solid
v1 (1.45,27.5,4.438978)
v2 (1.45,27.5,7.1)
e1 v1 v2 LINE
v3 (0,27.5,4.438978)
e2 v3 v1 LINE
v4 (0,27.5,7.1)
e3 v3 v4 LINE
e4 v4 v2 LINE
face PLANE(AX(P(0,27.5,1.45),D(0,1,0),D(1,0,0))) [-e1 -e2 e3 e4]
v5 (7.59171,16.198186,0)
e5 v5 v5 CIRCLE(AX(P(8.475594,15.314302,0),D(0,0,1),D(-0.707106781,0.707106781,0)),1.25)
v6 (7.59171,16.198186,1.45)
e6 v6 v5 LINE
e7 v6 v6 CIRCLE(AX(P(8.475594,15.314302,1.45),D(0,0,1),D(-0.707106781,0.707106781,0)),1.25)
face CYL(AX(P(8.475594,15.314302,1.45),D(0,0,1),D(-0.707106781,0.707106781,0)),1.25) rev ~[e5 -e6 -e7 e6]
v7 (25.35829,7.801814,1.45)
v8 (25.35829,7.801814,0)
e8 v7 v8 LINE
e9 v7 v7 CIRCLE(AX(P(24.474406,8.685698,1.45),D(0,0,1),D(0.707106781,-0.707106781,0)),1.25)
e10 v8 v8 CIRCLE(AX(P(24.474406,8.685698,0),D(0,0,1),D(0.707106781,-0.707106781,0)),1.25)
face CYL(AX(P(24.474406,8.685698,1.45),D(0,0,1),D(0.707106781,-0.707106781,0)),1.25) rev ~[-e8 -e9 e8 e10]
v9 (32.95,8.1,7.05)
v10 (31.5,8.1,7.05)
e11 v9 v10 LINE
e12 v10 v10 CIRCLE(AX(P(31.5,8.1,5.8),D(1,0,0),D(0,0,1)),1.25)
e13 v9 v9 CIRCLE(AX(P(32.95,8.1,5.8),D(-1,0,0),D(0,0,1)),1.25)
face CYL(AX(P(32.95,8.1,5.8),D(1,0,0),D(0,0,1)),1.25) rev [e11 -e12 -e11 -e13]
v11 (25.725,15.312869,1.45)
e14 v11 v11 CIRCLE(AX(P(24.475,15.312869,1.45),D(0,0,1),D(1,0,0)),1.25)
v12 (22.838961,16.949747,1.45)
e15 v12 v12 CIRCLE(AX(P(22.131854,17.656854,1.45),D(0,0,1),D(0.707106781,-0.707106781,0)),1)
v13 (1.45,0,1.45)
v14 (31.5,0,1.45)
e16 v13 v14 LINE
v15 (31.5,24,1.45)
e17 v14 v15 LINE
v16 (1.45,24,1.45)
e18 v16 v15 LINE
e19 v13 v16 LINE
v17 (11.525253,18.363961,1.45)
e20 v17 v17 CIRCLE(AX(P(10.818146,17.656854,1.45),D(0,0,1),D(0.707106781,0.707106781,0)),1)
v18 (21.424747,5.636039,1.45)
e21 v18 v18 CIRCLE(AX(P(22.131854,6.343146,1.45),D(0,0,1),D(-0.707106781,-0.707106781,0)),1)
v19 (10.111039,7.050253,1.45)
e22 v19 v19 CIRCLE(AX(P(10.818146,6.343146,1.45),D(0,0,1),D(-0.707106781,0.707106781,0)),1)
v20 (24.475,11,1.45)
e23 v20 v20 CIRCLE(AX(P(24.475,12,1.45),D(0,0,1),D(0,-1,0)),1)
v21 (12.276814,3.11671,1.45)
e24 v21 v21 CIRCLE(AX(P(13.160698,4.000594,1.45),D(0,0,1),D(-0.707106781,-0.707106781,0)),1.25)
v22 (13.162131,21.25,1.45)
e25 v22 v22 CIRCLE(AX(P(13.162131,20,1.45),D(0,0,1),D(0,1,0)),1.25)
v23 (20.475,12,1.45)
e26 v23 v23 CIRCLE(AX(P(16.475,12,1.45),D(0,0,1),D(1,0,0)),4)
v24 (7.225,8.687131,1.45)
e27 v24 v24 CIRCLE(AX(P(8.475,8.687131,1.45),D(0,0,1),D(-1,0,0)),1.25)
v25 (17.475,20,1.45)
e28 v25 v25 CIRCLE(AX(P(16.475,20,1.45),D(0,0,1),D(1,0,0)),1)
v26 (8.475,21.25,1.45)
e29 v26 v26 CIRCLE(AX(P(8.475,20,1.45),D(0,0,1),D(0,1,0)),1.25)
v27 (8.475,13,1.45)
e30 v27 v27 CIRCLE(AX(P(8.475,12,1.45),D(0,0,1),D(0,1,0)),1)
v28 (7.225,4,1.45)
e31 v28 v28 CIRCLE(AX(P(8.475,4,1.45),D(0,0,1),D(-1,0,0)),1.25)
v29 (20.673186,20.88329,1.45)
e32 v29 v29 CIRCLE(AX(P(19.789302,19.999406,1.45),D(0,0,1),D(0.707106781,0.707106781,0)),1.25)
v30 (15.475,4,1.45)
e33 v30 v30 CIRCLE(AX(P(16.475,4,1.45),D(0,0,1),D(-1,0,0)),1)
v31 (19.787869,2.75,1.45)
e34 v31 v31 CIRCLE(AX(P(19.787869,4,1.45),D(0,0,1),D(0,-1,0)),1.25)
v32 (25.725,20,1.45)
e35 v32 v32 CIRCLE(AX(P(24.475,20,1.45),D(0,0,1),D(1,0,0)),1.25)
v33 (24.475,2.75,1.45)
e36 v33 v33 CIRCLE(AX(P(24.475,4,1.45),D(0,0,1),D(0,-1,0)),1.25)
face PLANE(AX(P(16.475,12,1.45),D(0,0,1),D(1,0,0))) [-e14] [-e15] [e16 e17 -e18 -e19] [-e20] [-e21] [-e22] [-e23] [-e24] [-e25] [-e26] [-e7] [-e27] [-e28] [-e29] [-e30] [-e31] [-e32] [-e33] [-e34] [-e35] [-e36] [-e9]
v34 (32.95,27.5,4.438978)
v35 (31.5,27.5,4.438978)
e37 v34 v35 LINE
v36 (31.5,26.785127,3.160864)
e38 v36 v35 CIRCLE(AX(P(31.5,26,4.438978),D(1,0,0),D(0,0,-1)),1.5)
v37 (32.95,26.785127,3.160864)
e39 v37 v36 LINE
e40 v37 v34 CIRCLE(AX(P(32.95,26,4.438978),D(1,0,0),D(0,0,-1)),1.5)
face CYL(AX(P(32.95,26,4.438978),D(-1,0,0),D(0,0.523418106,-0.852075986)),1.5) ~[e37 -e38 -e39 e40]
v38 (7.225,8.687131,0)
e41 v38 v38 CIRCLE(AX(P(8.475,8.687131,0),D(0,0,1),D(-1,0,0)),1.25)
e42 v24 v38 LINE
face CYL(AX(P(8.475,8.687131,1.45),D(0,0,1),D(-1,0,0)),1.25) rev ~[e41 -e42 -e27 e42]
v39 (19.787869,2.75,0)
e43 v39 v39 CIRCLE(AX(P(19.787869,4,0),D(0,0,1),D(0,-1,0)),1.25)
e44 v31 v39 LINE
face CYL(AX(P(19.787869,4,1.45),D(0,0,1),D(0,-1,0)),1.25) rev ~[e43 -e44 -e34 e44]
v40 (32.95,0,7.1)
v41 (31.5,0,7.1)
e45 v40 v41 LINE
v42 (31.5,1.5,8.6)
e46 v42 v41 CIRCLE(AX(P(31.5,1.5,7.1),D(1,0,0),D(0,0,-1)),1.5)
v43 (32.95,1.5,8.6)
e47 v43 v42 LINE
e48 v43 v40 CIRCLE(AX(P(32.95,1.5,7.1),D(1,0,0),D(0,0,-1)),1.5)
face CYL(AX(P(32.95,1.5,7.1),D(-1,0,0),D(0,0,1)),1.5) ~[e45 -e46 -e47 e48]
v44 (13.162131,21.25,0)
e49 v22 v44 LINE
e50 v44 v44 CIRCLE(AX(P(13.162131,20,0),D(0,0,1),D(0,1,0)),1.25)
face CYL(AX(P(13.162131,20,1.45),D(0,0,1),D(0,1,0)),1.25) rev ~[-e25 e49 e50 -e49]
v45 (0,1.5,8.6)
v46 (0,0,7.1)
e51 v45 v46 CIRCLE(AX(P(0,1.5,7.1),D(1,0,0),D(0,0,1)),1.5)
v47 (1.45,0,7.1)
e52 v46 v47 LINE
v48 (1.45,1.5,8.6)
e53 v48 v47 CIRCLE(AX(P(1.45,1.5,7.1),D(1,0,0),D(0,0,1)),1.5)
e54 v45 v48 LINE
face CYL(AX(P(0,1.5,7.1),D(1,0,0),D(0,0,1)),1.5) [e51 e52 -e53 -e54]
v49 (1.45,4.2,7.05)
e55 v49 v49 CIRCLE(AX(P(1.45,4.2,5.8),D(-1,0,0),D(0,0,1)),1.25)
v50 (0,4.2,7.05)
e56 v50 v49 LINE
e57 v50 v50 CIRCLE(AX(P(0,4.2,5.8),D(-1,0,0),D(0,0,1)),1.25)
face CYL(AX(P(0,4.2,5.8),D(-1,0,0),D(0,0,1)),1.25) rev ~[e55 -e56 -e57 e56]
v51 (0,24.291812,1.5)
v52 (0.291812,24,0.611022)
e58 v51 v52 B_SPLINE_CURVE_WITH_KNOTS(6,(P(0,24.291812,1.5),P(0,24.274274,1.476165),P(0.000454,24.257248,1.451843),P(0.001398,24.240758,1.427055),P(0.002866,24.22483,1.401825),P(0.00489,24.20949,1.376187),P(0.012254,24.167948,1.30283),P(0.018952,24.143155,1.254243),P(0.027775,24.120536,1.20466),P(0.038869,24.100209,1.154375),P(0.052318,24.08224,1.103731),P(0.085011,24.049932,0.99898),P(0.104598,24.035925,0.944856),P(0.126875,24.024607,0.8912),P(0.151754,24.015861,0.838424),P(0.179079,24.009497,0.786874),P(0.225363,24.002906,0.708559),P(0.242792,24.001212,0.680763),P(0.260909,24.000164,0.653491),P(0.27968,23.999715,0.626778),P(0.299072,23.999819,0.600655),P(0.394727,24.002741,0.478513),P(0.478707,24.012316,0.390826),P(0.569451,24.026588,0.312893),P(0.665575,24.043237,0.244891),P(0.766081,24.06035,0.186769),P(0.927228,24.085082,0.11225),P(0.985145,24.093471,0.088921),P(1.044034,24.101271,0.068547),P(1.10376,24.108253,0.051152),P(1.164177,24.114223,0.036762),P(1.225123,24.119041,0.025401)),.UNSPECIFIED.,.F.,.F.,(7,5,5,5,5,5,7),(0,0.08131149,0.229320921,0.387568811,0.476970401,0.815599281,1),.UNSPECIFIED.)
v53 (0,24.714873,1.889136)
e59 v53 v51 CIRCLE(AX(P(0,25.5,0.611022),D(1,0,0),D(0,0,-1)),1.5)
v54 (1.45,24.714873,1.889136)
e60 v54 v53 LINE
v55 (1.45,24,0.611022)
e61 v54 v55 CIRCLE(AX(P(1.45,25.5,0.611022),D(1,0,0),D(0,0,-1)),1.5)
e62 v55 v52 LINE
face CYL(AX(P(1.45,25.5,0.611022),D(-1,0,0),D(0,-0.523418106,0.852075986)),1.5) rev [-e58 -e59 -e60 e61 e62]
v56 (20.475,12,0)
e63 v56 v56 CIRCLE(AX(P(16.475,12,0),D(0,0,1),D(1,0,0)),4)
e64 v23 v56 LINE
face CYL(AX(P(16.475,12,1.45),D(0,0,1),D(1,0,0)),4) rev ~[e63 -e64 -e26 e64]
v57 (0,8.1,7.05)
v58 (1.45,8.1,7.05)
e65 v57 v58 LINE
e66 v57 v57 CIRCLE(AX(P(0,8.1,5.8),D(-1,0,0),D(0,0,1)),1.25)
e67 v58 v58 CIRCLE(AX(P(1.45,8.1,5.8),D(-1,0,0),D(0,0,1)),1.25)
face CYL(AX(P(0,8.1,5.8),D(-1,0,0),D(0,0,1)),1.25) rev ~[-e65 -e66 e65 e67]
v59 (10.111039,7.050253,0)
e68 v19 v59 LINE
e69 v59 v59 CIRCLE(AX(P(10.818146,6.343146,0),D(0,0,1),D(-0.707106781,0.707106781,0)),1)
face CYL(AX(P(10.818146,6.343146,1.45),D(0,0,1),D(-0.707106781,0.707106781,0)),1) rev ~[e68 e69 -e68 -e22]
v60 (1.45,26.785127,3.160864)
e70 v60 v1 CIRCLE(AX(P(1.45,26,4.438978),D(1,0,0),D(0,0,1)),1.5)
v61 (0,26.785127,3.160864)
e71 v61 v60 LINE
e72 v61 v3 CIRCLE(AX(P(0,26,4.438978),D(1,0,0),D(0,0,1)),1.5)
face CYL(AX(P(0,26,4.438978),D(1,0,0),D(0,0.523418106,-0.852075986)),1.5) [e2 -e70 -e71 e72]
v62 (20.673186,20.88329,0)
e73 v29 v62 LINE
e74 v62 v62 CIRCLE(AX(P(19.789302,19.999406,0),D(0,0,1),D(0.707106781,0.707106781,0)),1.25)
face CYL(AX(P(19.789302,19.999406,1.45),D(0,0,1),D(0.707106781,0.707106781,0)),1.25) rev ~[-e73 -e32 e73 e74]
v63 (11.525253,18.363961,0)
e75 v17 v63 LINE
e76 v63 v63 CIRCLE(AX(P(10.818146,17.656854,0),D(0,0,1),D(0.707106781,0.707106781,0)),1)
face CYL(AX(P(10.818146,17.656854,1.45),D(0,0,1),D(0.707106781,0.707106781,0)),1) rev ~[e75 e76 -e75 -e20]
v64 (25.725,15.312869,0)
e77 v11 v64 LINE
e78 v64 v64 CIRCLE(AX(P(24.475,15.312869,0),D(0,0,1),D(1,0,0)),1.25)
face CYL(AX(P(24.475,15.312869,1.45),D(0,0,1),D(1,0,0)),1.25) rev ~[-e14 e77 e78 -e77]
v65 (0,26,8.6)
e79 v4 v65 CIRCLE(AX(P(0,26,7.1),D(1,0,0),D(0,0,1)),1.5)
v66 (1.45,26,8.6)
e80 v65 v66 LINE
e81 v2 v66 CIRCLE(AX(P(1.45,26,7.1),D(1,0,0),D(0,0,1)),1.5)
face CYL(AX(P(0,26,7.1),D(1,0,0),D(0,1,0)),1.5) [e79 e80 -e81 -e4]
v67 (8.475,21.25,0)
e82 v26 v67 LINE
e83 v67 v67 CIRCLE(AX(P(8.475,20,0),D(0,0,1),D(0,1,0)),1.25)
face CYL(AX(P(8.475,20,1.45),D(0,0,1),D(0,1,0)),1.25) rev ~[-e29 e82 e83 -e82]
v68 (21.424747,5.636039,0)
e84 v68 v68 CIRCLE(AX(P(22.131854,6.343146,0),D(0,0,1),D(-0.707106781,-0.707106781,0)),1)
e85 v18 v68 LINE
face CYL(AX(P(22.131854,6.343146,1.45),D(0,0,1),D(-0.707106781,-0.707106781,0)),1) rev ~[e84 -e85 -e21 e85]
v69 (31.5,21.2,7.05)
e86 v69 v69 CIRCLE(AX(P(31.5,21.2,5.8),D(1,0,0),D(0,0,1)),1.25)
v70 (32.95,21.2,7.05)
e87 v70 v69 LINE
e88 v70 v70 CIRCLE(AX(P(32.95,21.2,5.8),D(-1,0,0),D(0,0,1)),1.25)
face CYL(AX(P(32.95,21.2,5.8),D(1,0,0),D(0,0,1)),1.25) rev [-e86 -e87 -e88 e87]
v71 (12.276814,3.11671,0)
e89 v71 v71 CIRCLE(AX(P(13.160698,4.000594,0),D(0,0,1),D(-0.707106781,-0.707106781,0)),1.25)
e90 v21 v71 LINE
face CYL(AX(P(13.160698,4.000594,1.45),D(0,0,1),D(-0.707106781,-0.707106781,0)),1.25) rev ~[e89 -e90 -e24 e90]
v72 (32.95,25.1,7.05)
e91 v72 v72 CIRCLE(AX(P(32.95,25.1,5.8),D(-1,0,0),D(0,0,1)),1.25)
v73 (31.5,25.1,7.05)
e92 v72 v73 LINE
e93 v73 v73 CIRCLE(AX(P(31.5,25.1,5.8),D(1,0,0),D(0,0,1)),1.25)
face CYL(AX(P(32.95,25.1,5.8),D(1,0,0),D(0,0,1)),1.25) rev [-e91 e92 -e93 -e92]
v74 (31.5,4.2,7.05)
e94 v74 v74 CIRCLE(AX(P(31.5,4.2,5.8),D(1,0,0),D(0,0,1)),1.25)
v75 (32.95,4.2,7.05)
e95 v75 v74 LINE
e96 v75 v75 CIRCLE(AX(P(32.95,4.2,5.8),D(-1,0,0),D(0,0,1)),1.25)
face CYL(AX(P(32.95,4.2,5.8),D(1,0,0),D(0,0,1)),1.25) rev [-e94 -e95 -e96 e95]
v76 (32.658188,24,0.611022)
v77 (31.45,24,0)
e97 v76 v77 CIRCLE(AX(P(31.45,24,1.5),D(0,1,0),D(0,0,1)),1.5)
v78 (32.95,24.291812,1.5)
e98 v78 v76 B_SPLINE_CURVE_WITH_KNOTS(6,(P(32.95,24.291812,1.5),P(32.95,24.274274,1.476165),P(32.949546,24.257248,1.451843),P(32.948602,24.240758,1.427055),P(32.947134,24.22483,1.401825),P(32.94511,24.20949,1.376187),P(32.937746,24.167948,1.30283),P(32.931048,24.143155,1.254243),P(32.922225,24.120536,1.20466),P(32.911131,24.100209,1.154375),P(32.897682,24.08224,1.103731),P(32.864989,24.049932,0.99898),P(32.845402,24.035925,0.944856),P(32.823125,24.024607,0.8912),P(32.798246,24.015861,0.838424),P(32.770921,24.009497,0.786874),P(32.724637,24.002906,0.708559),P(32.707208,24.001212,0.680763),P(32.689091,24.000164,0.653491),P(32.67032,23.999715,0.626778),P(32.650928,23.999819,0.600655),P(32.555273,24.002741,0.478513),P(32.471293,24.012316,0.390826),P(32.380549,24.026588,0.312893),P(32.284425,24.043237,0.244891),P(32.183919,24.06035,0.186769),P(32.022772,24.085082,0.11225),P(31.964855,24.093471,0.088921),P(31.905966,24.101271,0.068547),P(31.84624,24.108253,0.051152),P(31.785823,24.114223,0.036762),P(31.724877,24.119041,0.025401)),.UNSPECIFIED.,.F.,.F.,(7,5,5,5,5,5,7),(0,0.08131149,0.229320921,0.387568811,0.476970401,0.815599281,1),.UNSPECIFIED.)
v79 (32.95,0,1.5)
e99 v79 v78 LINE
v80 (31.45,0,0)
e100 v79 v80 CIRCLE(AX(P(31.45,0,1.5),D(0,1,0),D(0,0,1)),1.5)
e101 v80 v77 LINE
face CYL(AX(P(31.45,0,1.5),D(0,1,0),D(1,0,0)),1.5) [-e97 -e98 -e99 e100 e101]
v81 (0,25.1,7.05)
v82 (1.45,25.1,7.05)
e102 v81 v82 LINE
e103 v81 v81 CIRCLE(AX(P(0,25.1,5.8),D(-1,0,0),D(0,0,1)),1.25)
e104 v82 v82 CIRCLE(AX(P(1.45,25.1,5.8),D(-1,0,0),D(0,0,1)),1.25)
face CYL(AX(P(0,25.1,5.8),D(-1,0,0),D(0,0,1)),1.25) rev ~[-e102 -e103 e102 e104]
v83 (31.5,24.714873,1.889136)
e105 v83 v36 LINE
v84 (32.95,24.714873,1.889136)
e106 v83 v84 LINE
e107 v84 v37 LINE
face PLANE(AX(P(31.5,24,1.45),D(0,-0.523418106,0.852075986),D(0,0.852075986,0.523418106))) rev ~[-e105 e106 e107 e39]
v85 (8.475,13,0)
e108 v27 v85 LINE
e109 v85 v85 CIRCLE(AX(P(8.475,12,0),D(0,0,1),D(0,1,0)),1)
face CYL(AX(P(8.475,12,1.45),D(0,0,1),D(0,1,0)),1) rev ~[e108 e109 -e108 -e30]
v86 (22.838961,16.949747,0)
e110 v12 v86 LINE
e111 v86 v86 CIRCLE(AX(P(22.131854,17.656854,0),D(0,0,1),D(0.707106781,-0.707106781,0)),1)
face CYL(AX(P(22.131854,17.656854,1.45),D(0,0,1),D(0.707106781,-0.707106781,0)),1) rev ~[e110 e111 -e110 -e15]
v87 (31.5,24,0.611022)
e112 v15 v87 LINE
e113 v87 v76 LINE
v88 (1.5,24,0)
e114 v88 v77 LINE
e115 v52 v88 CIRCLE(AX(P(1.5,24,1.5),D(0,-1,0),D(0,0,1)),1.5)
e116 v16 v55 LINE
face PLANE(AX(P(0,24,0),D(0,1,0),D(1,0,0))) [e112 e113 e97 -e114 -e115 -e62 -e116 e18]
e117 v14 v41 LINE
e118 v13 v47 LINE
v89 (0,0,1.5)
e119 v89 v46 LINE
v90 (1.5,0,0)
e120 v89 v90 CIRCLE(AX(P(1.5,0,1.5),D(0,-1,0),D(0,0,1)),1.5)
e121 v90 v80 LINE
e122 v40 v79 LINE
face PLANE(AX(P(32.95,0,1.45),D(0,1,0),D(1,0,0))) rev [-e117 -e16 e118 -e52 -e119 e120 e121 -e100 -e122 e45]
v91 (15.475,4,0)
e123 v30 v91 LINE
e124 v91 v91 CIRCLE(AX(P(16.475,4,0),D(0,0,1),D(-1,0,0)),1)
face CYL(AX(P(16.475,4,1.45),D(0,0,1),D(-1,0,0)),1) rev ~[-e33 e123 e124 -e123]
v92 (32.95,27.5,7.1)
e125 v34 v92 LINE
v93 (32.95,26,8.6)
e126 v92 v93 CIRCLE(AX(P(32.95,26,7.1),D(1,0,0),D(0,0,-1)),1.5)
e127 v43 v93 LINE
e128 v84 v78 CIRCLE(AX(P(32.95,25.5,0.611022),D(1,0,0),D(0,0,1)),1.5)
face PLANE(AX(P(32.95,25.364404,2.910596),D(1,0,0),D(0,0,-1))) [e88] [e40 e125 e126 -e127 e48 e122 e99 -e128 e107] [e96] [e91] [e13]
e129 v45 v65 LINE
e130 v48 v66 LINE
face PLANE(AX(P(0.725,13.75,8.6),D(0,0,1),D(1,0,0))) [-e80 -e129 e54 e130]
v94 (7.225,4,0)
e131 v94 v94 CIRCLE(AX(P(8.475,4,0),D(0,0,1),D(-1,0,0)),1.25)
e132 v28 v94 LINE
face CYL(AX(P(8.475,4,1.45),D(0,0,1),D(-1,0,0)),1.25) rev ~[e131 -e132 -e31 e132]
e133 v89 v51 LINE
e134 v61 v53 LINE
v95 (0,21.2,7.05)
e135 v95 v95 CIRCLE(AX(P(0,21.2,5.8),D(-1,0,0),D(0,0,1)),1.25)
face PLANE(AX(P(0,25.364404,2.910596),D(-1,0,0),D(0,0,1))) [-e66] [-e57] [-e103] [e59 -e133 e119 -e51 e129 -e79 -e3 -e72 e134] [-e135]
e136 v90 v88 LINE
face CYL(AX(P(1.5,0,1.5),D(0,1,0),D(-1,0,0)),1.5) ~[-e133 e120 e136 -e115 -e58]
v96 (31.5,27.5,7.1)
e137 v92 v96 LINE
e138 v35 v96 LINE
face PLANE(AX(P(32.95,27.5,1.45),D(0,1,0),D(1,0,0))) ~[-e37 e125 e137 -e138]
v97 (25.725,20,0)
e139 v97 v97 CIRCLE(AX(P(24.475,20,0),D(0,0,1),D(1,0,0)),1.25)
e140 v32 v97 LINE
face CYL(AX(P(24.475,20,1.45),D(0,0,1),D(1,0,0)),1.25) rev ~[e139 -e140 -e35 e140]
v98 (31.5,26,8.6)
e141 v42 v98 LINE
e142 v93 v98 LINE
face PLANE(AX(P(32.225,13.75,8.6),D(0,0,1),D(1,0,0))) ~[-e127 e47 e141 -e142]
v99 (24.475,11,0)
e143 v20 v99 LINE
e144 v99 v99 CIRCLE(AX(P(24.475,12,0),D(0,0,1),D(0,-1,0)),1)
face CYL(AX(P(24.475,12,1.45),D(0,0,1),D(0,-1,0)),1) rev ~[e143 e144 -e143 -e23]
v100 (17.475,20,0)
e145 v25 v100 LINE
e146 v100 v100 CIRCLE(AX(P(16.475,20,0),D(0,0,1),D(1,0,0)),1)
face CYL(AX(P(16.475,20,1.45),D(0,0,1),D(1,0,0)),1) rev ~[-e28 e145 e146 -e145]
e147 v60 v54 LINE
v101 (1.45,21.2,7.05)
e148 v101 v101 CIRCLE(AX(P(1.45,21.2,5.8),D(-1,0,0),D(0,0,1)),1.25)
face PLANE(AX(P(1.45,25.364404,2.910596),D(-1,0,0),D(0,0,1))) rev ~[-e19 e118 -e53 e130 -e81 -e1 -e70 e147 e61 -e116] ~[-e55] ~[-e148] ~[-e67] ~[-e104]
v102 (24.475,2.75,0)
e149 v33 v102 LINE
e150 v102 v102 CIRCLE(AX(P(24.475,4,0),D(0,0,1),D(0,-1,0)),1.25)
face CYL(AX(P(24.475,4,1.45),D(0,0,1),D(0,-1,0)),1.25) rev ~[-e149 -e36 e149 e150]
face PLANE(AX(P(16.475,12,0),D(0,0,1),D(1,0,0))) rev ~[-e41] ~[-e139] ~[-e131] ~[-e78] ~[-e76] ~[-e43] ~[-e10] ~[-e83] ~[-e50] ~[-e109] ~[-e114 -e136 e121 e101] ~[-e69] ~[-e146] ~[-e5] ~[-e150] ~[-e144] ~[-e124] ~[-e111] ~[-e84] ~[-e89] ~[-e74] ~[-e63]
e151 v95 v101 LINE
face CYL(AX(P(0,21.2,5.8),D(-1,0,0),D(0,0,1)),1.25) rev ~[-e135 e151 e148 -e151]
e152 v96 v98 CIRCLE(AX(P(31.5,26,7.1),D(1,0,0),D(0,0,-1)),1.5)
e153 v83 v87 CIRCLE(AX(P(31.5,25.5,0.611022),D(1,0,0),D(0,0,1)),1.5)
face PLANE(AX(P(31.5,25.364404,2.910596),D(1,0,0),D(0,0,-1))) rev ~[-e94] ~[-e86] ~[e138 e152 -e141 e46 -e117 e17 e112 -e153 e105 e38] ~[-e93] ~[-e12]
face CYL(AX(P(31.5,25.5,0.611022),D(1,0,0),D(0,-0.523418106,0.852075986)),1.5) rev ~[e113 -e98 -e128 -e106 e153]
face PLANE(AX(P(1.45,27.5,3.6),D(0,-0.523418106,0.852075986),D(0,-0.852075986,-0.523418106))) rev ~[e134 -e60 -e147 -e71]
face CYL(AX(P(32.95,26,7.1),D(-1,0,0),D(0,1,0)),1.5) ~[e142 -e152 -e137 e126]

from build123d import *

# Parameters (mm, degrees)
SKETCH1_W           = 32.95
SKETCH1_H           = 24
BOSS_EXTRUDE1_DEPTH = 1.45
SKETCH3_R           = 4
CUT_EXTRUDE1_DEPTH  = 41.789765873
SKETCH4_R           = 1
CUT_EXTRUDE2_DEPTH  = 41.789765873
CIRPATTERN1_COUNT   = 8
SKETCH6_R           = 1.25
CUT_EXTRUDE3_DEPTH  = 1.45
SKETCH7_R           = 1.25
CUT_EXTRUDE4_DEPTH  = 1.45
CIRPATTERN2_COUNT   = 4
CIRPATTERN3_COUNT   = 8
SKETCH8_W           = 1.45
SKETCH8_H           = 27.5
BOSS_EXTRUDE2_DEPTH = 7.15
CUT_EXTRUDE5_REACH  = 45.771
SKETCH9_W           = 2.15
SKETCH9_H           = 3.5
BOSS_EXTRUDE3_DEPTH = 1.45
FILLET1_R           = 1.5
FILLET2_R           = 1.5
SKETCH12_R          = 1.25
CUT_EXTRUDE6_DEPTH  = 1.5
SKETCH13_R          = 1.25
CUT_EXTRUDE7_DEPTH  = 1.5
SKETCH14_R          = 1.25
CUT_EXTRUDE8_DEPTH  = 1.5
SKETCH15_R          = 1.25
CUT_EXTRUDE9_DEPTH  = 1.5
BOSS_EXTRUDE5_DEPTH = 1.45
FILLET3_R           = 1.5
FILLET4_R           = 1.5


with BuildPart() as part:
    # Sketch1 → Boss-Extrude1 (new body)
    with BuildSketch(Plane.XY):
        with Locations((16.475, 12)):
            Rectangle(SKETCH1_W, SKETCH1_H)
    extrude(amount=BOSS_EXTRUDE1_DEPTH)

    # Sketch3 → Cut-Extrude1 (cut, through all)
    with BuildSketch(Plane.XY.offset(1.45)):
        with Locations((16.475, 12)):
            Circle(SKETCH3_R)
    extrude(amount=-CUT_EXTRUDE1_DEPTH, mode=Mode.SUBTRACT)

    # Sketch4 → Cut-Extrude2 (cut, through all)
    with BuildSketch(Plane.XY.offset(1.45)):
        with Locations((16.475, 20)):
            Circle(SKETCH4_R)
    cut_extrude2 = extrude(amount=-CUT_EXTRUDE2_DEPTH, mode=Mode.SUBTRACT)

    # CirPattern1: Cut-Extrude2 ×8 about axis
    cirpattern1_axis = Axis((16.475, 12, 0), (0, 0, 1))
    for i in range(1, CIRPATTERN1_COUNT):
        add(cut_extrude2.rotate(cirpattern1_axis, i * 360 / CIRPATTERN1_COUNT), mode=Mode.SUBTRACT)

    # Sketch6 → Cut-Extrude3 (cut)
    with BuildSketch(Plane.XY.offset(1.45)):
        with Locations((24.475, 15.312868697)):
            Circle(SKETCH6_R)
    cut_extrude3 = extrude(amount=-CUT_EXTRUDE3_DEPTH, mode=Mode.SUBTRACT)

    # Sketch7 → Cut-Extrude4 (cut)
    with BuildSketch(Plane.XY.offset(1.45)):
        with Locations((24.475, 20)):
            Circle(SKETCH7_R)
    cut_extrude4 = extrude(amount=-CUT_EXTRUDE4_DEPTH, mode=Mode.SUBTRACT)

    # CirPattern2: Cut-Extrude4 ×4 about axis
    cirpattern2_axis = Axis((16.475, 12, 0), (0, 0, 1))
    for i in range(1, CIRPATTERN2_COUNT):
        add(cut_extrude4.rotate(cirpattern2_axis, i * 360 / CIRPATTERN2_COUNT), mode=Mode.SUBTRACT)

    # CirPattern3: Cut-Extrude3 ×8 about axis
    cirpattern3_axis = Axis((16.475, 12, 0), (0, 0, 1))
    for i in range(1, CIRPATTERN3_COUNT):
        add(cut_extrude3.rotate(cirpattern3_axis, i * 360 / CIRPATTERN3_COUNT), mode=Mode.SUBTRACT)

    # Sketch8 → Boss-Extrude2 (add)
    with BuildSketch(Plane.XY.offset(1.45)):
        with Locations((0.725, 13.75)):
            Rectangle(SKETCH8_W, SKETCH8_H)
    boss_extrude2 = extrude(amount=BOSS_EXTRUDE2_DEPTH)

    # Sketch9 → Cut-Extrude5 (cut, up to next)
    with BuildSketch(Plane.ZY, mode=Mode.PRIVATE) as cut_extrude5_sk1:
        with Locations((2.525, 25.75)):
            Rectangle(SKETCH9_W, SKETCH9_H)
    cut_extrude5_tool1 = extrude(cut_extrude5_sk1.sketch, amount=-CUT_EXTRUDE5_REACH, mode=Mode.PRIVATE) & part.part
    cut_extrude5 = cut_extrude5_tool1.solids().sort_by_distance((0, 25.75, 2.525))[0]
    add(cut_extrude5, mode=Mode.SUBTRACT)

    # Sketch11 → Boss-Extrude3 (add)
    with BuildSketch(Plane(origin=(1.45, 0, 0), x_dir=(0, 0, -1), z_dir=(1, 0, 0))):
        Polygon((-3.6, 27.5), (-1.45, 24), (-3.6, 24), align=None)
    extrude(amount=-BOSS_EXTRUDE3_DEPTH)

    # Fillet1
    fillet1_edges = [part.edges().sort_by_distance(p)[0] for p in [
        (0.725, 0, 8.6),
        (0.725, 27.5, 8.6),
        (0.725, 27.5, 3.6),
        (0.725, 24, 1.45),
    ]]
    fillet(fillet1_edges, radius=FILLET1_R)

    # Fillet2
    fillet2_edges = [part.edges().sort_by_distance(p)[0] for p in [
        (0, 12, 0),
    ]]
    fillet(fillet2_edges, radius=FILLET2_R)

    # Sketch12 → Cut-Extrude6 (cut)
    with BuildSketch(Plane.ZY):
        with Locations((5.8, 4.2)):
            Circle(SKETCH12_R)
    cut_extrude6 = extrude(amount=-CUT_EXTRUDE6_DEPTH, mode=Mode.SUBTRACT)

    # Sketch13 → Cut-Extrude7 (cut)
    with BuildSketch(Plane.ZY):
        with Locations((5.8, 21.2)):
            Circle(SKETCH13_R)
    cut_extrude7 = extrude(amount=-CUT_EXTRUDE7_DEPTH, mode=Mode.SUBTRACT)

    # Sketch14 → Cut-Extrude8 (cut)
    with BuildSketch(Plane.ZY):
        with Locations((5.8, 25.1)):
            Circle(SKETCH14_R)
    cut_extrude8 = extrude(amount=-CUT_EXTRUDE8_DEPTH, mode=Mode.SUBTRACT)

    # Sketch15 → Cut-Extrude9 (cut)
    with BuildSketch(Plane.ZY):
        with Locations((5.8, 8.1)):
            Circle(SKETCH15_R)
    cut_extrude9 = extrude(amount=-CUT_EXTRUDE9_DEPTH, mode=Mode.SUBTRACT)

    # Mirror3: Boss-Extrude2 across plane
    add(boss_extrude2.mirror(Plane(origin=(16.475, 0, 0), x_dir=(0, 0, 1), z_dir=(1, 0, 0))))

    # Mirror5: Cut-Extrude5 across plane
    add(cut_extrude5.mirror(Plane(origin=(16.475, 0, 0), x_dir=(0, 0, 1), z_dir=(1, 0, 0))), mode=Mode.SUBTRACT)

    # Sketch17 → Boss-Extrude5 (add)
    with BuildSketch(Plane.ZY.offset(-31.5)):
        Polygon((1.45, 24), (3.6, 27.5), (3.6, 24), align=None)
    extrude(amount=-BOSS_EXTRUDE5_DEPTH)

    # Mirror8: Cut-Extrude6, Cut-Extrude7, Cut-Extrude8, Cut-Extrude9 across plane
    add(cut_extrude6.mirror(Plane(origin=(16.475, 0, 0), x_dir=(0, 0, 1), z_dir=(1, 0, 0))), mode=Mode.SUBTRACT)
    add(cut_extrude7.mirror(Plane(origin=(16.475, 0, 0), x_dir=(0, 0, 1), z_dir=(1, 0, 0))), mode=Mode.SUBTRACT)
    add(cut_extrude8.mirror(Plane(origin=(16.475, 0, 0), x_dir=(0, 0, 1), z_dir=(1, 0, 0))), mode=Mode.SUBTRACT)
    add(cut_extrude9.mirror(Plane(origin=(16.475, 0, 0), x_dir=(0, 0, 1), z_dir=(1, 0, 0))), mode=Mode.SUBTRACT)

    # Fillet3
    fillet3_edges = [part.edges().sort_by_distance(p)[0] for p in [
        (32.225, 27.5, 8.6),
        (32.225, 0, 8.6),
        (32.225, 27.5, 3.6),
        (32.225, 24, 1.45),
    ]]
    fillet(fillet3_edges, radius=FILLET3_R)

    # Fillet4
    fillet4_edges = [part.edges().sort_by_distance(p)[0] for p in [
        (32.95, 12, 0),
    ]]
    fillet(fillet4_edges, radius=FILLET4_R)


solid = part.part
